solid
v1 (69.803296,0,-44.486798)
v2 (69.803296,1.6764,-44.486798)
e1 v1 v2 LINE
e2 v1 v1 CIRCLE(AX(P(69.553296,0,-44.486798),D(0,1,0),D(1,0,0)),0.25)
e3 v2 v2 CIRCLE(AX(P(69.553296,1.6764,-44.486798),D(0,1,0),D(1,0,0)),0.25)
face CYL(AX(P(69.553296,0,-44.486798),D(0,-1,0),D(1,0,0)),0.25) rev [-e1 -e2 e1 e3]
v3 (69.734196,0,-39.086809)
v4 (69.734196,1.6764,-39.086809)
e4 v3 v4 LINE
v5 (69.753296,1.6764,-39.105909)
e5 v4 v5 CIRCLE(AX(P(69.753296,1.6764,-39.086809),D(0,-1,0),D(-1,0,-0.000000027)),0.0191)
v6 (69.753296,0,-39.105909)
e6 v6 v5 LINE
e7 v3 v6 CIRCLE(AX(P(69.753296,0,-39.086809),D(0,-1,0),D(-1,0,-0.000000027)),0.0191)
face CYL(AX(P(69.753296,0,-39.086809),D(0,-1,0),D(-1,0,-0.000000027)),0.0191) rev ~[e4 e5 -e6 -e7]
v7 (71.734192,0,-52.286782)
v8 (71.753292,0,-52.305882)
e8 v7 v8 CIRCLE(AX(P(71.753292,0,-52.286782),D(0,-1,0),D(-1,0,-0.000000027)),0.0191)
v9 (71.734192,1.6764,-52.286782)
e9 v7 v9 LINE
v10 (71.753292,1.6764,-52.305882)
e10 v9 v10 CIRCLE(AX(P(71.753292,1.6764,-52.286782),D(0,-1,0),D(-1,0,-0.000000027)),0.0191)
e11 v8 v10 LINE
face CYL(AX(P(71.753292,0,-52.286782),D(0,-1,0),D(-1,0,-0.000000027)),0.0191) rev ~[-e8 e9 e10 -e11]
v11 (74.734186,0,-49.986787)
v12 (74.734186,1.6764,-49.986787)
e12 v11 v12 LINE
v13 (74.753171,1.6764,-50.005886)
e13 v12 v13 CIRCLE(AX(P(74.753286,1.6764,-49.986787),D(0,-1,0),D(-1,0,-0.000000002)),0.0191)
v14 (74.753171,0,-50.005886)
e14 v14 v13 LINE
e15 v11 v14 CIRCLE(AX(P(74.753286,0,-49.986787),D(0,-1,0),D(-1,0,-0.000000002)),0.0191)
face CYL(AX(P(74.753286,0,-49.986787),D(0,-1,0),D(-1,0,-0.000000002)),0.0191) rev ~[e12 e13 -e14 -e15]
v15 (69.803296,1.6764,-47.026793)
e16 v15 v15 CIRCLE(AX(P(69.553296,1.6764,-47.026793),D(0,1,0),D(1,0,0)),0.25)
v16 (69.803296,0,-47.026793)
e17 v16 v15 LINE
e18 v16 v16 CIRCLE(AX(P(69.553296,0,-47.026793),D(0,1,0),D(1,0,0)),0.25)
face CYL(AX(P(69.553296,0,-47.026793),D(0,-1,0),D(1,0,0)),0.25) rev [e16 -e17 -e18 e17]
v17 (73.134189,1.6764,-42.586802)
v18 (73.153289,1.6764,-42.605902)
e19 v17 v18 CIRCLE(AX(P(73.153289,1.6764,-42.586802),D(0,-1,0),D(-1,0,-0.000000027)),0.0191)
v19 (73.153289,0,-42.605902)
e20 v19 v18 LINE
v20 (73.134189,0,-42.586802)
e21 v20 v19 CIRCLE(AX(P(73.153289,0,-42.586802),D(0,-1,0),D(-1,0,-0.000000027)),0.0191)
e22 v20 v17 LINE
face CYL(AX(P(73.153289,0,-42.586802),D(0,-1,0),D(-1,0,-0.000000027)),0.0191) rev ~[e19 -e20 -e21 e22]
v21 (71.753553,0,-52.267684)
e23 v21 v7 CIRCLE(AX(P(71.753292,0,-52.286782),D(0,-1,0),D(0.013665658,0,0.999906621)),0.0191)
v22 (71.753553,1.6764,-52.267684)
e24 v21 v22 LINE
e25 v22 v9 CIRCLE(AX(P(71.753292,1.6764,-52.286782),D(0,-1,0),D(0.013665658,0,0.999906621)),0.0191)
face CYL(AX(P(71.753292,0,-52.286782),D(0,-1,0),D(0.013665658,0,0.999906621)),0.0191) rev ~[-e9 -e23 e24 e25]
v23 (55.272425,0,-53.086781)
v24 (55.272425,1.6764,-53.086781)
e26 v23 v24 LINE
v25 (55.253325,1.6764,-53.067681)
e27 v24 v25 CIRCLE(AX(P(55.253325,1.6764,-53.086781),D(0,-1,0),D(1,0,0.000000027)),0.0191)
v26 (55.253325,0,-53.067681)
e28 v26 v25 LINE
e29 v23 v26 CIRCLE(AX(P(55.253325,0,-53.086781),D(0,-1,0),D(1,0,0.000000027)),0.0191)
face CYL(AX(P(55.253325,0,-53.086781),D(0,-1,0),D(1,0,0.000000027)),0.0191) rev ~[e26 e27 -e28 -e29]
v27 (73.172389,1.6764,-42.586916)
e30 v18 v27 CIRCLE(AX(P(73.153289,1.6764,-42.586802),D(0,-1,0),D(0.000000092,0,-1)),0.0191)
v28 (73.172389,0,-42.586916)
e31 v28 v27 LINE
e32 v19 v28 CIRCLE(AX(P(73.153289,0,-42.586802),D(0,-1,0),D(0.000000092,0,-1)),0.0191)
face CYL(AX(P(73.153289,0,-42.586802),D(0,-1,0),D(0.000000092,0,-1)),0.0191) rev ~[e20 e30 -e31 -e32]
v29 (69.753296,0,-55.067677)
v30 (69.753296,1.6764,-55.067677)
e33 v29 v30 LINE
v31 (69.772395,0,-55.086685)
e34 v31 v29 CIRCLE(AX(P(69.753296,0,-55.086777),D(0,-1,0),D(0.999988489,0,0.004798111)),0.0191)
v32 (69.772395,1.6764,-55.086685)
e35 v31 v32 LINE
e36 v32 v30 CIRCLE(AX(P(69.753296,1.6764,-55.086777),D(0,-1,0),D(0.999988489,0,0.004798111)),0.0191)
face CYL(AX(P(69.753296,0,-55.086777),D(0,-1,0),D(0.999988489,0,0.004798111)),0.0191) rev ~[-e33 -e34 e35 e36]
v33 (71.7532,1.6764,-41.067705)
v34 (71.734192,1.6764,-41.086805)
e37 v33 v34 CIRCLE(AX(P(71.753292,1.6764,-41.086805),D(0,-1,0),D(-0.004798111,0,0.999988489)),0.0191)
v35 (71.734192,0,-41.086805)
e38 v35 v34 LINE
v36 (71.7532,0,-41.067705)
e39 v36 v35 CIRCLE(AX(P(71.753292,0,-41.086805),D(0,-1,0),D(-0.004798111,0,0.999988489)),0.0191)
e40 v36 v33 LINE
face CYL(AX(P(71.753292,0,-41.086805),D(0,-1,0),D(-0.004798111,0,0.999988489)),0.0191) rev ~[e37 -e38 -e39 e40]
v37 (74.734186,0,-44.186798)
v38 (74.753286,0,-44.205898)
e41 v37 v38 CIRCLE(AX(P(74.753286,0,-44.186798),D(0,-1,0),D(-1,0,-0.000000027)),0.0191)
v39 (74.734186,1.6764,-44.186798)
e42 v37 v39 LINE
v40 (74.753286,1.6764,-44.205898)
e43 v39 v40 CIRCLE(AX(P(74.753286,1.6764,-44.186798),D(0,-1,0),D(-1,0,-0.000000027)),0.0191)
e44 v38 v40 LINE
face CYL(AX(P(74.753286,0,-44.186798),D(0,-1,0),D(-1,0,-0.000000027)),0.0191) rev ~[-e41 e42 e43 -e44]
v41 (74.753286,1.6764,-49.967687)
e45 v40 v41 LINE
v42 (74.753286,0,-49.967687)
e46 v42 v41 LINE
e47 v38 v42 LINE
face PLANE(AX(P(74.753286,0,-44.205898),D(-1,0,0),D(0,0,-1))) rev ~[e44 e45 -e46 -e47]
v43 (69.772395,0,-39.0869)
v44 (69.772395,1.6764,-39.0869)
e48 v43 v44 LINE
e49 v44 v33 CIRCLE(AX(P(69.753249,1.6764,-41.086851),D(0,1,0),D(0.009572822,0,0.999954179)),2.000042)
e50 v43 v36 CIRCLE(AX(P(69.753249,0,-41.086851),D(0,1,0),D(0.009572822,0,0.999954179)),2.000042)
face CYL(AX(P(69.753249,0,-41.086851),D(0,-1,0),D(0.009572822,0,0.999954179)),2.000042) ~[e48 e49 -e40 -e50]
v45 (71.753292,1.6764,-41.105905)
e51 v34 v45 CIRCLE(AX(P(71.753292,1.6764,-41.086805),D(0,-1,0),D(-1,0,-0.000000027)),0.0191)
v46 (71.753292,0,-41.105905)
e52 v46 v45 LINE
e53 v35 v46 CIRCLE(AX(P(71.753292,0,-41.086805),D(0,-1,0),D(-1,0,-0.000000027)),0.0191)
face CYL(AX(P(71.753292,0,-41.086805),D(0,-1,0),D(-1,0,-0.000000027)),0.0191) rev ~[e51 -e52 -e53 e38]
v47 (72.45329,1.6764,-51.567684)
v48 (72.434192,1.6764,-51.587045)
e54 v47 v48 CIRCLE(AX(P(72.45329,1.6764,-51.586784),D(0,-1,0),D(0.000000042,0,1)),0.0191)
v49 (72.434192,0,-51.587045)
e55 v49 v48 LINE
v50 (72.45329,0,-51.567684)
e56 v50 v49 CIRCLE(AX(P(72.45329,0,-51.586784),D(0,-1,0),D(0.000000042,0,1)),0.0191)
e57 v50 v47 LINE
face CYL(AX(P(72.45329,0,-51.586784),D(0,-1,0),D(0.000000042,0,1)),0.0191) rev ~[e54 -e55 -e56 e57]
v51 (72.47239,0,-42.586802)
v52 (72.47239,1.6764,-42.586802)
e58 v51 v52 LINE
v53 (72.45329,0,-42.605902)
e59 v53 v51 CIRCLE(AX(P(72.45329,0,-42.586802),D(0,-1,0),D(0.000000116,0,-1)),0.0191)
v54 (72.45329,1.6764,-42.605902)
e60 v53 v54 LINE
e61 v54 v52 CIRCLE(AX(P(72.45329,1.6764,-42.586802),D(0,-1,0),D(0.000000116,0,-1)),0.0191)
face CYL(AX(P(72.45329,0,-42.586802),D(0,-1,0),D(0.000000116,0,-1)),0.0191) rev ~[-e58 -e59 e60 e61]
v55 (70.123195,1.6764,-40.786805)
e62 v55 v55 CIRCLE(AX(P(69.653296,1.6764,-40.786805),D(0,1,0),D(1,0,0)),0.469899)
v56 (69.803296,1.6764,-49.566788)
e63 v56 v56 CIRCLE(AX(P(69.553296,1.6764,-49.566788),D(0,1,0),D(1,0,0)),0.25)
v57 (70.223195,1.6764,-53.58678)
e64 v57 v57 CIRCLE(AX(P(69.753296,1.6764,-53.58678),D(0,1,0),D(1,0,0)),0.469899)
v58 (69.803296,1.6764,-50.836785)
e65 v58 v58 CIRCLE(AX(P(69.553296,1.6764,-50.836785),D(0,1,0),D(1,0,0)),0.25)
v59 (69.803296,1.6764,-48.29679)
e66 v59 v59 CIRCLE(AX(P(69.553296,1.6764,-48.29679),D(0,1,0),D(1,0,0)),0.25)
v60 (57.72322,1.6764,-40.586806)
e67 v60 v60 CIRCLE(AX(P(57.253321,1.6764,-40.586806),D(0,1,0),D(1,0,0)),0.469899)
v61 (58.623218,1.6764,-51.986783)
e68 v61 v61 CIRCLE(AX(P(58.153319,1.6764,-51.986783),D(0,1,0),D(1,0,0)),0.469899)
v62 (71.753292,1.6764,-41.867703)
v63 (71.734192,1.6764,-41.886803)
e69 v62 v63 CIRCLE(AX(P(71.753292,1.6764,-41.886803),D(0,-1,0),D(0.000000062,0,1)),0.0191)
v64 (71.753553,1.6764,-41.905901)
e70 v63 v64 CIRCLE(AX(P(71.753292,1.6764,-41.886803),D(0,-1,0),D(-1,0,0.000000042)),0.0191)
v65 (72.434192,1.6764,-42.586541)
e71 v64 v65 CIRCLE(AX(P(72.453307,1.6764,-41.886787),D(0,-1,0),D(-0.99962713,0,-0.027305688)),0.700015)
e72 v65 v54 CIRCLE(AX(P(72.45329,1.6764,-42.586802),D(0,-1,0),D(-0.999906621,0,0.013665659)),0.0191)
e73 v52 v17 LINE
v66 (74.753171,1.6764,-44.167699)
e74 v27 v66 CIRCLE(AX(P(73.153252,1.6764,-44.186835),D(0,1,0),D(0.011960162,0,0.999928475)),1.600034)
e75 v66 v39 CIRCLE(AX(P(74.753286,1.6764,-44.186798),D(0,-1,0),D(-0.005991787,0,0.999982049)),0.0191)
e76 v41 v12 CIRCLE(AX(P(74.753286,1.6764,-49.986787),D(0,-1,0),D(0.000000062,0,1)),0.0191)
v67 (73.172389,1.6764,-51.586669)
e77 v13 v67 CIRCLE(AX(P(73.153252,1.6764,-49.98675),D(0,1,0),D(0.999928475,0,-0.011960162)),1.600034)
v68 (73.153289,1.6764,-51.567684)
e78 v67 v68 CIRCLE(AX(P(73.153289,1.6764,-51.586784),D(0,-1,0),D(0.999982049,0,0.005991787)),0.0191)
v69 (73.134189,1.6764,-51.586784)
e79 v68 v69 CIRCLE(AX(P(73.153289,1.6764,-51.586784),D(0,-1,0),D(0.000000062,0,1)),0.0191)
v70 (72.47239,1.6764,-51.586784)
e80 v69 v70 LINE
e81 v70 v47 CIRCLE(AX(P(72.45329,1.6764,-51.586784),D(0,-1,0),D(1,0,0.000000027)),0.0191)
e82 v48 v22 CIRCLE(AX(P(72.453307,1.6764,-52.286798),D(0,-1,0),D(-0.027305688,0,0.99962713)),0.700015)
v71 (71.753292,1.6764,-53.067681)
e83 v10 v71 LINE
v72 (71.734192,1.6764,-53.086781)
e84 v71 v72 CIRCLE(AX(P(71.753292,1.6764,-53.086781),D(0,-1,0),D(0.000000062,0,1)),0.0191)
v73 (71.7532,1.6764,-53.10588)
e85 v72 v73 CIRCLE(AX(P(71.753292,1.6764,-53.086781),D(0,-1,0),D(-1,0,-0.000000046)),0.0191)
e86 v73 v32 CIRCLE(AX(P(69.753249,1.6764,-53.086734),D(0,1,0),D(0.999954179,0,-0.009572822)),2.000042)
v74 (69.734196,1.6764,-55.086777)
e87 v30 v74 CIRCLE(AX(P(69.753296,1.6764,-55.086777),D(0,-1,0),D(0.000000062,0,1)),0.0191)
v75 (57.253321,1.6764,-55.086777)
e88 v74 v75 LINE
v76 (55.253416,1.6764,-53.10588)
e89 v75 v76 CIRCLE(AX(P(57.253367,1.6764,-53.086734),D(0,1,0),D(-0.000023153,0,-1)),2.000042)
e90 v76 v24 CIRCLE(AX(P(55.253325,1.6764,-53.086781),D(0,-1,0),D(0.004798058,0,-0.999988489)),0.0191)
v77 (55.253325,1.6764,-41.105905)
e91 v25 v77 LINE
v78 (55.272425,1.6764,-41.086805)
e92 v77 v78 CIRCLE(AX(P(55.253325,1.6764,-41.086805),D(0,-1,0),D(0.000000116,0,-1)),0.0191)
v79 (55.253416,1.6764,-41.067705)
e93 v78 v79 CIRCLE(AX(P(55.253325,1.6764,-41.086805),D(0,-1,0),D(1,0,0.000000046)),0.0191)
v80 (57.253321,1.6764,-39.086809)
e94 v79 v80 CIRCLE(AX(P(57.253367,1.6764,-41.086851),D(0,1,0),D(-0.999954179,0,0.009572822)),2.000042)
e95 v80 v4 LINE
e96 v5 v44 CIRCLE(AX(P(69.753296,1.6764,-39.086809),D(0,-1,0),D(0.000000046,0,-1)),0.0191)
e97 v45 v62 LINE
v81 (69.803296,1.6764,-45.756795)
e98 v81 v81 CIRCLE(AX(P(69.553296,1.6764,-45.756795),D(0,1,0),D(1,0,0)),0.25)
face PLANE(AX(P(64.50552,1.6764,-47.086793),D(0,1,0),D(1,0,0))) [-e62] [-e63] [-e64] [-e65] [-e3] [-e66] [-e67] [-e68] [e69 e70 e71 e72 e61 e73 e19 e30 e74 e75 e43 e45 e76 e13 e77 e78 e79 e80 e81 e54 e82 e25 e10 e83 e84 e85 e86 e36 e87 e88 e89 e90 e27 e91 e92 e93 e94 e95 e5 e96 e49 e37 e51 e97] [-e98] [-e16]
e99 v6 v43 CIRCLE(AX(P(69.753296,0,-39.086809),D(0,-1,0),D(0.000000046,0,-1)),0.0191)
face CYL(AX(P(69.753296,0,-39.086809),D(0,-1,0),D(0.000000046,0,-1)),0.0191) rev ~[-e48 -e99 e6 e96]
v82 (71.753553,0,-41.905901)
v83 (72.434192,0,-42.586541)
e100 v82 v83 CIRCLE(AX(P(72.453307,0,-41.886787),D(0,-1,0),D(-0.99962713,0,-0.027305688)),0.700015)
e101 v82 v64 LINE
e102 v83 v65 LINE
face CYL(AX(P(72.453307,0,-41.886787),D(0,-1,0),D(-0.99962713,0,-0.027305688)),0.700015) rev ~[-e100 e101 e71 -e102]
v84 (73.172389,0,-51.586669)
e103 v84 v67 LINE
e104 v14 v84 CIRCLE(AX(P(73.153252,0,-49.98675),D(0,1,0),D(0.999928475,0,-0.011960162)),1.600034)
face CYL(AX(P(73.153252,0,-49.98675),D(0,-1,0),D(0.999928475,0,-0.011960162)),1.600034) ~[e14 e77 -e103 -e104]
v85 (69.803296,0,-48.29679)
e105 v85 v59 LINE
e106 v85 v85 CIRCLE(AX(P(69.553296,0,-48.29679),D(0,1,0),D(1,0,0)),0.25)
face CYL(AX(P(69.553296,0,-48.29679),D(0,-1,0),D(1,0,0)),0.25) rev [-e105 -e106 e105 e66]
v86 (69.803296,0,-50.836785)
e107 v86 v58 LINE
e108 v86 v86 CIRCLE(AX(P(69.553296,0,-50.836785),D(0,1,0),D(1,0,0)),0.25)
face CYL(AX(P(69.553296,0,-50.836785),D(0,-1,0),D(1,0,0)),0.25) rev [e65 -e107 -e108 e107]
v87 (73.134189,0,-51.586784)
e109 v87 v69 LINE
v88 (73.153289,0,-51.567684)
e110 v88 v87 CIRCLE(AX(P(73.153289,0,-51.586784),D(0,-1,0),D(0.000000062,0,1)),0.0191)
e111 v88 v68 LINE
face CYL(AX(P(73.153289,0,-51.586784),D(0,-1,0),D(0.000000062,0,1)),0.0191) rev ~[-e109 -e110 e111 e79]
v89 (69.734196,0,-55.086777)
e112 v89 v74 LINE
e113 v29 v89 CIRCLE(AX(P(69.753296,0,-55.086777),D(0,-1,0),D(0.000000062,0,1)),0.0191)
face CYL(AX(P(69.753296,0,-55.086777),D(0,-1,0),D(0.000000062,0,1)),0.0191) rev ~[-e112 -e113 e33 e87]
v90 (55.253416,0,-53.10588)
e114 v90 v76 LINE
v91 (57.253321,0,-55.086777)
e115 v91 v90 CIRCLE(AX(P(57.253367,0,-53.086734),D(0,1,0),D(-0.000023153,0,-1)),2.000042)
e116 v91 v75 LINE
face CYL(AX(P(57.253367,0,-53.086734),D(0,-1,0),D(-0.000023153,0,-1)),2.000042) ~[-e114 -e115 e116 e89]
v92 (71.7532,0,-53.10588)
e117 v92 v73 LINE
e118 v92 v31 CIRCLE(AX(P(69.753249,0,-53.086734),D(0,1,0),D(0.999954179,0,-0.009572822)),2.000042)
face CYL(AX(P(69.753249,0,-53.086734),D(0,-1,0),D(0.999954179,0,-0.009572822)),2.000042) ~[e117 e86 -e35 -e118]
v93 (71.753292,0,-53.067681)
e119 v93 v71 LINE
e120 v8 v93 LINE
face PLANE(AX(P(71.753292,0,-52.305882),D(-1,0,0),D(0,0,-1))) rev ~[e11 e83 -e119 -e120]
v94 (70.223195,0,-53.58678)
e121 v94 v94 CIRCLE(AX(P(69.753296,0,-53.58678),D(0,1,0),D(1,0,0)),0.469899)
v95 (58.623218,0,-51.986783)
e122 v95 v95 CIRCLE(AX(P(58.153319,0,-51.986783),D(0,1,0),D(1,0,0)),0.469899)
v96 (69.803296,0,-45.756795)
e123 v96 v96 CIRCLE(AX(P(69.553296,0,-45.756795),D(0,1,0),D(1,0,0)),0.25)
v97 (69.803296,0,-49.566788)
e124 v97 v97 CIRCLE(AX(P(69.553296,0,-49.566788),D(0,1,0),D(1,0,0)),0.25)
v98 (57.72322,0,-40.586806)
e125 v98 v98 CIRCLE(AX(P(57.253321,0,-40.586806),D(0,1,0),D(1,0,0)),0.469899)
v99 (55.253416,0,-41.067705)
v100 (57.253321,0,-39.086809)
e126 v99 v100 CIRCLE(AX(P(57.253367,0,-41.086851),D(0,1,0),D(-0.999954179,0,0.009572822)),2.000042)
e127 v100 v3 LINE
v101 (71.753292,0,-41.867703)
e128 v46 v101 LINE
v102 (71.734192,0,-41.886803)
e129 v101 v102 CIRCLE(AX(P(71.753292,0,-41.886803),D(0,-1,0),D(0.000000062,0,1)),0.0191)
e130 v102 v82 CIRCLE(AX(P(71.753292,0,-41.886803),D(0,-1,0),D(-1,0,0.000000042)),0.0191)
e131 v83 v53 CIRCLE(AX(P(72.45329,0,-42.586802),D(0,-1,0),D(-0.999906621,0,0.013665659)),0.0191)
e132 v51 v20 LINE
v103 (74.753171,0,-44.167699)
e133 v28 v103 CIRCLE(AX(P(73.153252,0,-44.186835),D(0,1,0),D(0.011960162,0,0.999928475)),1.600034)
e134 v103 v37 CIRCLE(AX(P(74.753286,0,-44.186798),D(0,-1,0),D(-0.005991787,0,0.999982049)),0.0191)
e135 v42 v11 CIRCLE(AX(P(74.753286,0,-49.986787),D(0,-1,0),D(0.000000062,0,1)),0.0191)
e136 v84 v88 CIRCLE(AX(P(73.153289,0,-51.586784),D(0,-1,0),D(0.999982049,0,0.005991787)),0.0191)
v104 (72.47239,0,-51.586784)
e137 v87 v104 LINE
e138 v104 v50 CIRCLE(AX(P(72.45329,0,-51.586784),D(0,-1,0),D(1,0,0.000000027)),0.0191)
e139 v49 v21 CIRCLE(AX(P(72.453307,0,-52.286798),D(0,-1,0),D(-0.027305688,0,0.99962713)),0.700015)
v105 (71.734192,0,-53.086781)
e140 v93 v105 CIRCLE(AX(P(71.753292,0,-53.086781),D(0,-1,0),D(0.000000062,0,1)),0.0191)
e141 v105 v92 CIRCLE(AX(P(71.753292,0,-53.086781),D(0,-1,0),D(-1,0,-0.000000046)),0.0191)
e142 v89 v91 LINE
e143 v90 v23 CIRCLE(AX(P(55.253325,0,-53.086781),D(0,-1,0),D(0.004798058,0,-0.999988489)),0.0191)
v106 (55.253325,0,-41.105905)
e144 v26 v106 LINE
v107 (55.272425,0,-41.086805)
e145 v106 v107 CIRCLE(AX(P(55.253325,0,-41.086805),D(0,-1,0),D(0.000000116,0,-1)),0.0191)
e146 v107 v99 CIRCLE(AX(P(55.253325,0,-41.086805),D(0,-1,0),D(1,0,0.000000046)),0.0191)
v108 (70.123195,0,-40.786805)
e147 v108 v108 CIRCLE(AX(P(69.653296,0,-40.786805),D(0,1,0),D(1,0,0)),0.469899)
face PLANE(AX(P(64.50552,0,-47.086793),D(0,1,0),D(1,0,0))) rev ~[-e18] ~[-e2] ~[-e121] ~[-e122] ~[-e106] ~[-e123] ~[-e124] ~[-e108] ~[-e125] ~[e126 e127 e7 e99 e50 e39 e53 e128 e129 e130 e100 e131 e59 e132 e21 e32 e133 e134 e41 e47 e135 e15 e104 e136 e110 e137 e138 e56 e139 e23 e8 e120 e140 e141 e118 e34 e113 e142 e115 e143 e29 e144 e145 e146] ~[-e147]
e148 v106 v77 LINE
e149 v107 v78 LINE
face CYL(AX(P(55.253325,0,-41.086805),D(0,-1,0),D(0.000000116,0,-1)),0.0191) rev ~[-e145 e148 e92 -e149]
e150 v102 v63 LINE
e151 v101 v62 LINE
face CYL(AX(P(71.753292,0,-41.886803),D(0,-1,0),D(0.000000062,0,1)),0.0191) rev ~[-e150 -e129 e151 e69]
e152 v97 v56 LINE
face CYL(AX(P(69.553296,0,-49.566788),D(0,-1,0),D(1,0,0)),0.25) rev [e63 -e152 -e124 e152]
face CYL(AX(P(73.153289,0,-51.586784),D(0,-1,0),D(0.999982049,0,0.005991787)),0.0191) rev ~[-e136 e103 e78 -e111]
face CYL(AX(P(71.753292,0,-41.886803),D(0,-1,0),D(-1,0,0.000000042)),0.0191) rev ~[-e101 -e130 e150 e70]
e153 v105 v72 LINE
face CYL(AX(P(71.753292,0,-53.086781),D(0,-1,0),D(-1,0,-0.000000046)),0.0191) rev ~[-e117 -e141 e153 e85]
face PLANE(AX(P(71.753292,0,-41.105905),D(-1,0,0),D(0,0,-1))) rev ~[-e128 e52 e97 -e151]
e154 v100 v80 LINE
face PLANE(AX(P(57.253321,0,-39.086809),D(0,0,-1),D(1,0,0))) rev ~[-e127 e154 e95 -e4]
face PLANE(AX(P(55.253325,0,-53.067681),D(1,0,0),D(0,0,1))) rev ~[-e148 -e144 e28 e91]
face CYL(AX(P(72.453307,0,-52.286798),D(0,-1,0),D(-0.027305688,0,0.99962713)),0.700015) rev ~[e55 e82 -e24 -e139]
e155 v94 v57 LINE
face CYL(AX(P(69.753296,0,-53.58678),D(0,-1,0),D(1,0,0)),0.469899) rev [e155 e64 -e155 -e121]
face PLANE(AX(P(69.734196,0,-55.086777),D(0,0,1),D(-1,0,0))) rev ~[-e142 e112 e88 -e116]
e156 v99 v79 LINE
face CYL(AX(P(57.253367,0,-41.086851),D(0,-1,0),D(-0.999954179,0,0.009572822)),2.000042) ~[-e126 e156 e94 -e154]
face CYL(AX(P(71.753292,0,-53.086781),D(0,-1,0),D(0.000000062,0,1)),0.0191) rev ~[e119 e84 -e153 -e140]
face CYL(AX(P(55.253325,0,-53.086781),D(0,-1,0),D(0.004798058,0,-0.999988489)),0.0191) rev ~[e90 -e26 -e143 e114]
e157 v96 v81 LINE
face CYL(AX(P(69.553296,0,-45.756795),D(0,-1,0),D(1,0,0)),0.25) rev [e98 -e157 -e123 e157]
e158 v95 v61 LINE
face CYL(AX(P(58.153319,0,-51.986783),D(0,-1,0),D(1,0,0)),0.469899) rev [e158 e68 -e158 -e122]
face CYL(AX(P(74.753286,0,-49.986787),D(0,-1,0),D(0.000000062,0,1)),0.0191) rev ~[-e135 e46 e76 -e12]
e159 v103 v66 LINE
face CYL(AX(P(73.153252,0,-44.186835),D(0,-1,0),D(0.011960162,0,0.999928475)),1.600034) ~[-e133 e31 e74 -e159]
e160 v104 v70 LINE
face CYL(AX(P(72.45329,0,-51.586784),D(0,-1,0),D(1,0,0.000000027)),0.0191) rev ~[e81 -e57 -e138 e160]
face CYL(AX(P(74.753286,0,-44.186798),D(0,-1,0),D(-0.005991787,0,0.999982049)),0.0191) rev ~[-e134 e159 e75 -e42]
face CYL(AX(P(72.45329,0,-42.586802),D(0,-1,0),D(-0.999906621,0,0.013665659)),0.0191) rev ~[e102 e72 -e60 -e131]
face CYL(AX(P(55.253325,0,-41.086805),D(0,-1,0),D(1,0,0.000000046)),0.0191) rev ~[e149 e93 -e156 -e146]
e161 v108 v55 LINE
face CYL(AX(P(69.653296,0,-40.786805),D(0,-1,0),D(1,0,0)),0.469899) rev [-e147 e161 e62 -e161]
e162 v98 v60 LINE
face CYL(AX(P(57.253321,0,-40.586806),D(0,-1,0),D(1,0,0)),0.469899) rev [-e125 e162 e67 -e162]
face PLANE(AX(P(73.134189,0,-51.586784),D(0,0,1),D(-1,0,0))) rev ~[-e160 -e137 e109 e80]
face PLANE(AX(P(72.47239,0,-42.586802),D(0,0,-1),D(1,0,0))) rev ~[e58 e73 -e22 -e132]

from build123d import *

# Parameters (mm, degrees)
SKETCH1_R           = 0.46989906
SKETCH1_R_2         = 0.2499995
BOSS_EXTRUDE1_DEPTH = 1.6764


with BuildPart() as part:
    # Sketch1 → Boss-Extrude1 (new body)
    with BuildSketch(Plane(origin=(0, 0, 0), x_dir=(1, 0, 0), z_dir=(0, 1, 0))):
        with BuildLine():
            Line((73.134188992, 51.586783601), (72.472390316, 51.586783601))
            ThreePointArc((72.472390316, 51.586783601), (72.466796066, 51.573277888), (72.453290354, 51.567683639))
            ThreePointArc((72.453290354, 51.567683639), (72.439692672, 51.573370488), (72.434192176, 51.587044615))
            ThreePointArc((72.434192176, 51.587044615), (71.958321344, 51.791813191), (71.753552768, 52.267684022))
            ThreePointArc((71.753552768, 52.267684022), (71.739878641, 52.273184519), (71.734191792, 52.286782201))
            ThreePointArc((71.734191792, 52.286782201), (71.739786041, 52.300287913), (71.753291754, 52.305882163))
            Line((71.753291754, 52.305882163), (71.753291754, 53.067680639))
            ThreePointArc((71.753291754, 53.067680639), (71.739786041, 53.073274888), (71.734191792, 53.086780601))
            ThreePointArc((71.734191792, 53.086780601), (71.73975368, 53.100253874), (71.753200111, 53.105880343))
            ThreePointArc((71.753200111, 53.105880343), (71.167492925, 54.500977772), (69.772395496, 55.086684958))
            ThreePointArc((69.772395496, 55.086684958), (69.766769027, 55.073238527), (69.753295754, 55.067676639))
            ThreePointArc((69.753295754, 55.067676639), (69.739790041, 55.073270888), (69.734195792, 55.086776601))
            Line((69.734195792, 55.086776601), (57.253320754, 55.086776601))
            ThreePointArc((57.253320754, 55.086776601), (55.845892561, 54.507714506), (55.253416396, 53.105880343))
            ThreePointArc((55.253416396, 53.105880343), (55.266862828, 53.100253874), (55.272424716, 53.086780601))
            ThreePointArc((55.272424716, 53.086780601), (55.266830466, 53.073274888), (55.253324754, 53.067680639))
            Line((55.253324754, 53.067680639), (55.253324754, 41.105904563))
            ThreePointArc((55.253324754, 41.105904563), (55.266830466, 41.100310313), (55.272424716, 41.086804601))
            ThreePointArc((55.272424716, 41.086804601), (55.266862828, 41.073331328), (55.253416396, 41.067704859))
            ThreePointArc((55.253416396, 41.067704859), (55.845892561, 39.665870695), (57.253320754, 39.086808601))
            Line((57.253320754, 39.086808601), (69.734195792, 39.086808601))
            ThreePointArc((69.734195792, 39.086808601), (69.739790041, 39.100314313), (69.753295754, 39.105908563))
            ThreePointArc((69.753295754, 39.105908563), (69.766769027, 39.100346675), (69.772395496, 39.086900243))
            ThreePointArc((69.772395496, 39.086900243), (71.167492925, 39.672607429), (71.753200111, 41.067704859))
            ThreePointArc((71.753200111, 41.067704859), (71.73975368, 41.073331328), (71.734191792, 41.086804601))
            ThreePointArc((71.734191792, 41.086804601), (71.739786041, 41.100310313), (71.753291754, 41.105904563))
            Line((71.753291754, 41.105904563), (71.753291754, 41.867703039))
            ThreePointArc((71.753291754, 41.867703039), (71.739786041, 41.873297288), (71.734191792, 41.886803001))
            ThreePointArc((71.734191792, 41.886803001), (71.739878641, 41.900400683), (71.753552768, 41.905901179))
            ThreePointArc((71.753552768, 41.905901179), (71.958321344, 42.381772011), (72.434192176, 42.586540587))
            ThreePointArc((72.434192176, 42.586540587), (72.439692672, 42.600214713), (72.453290354, 42.605901563))
            ThreePointArc((72.453290354, 42.605901563), (72.466796066, 42.600307313), (72.472390316, 42.586801601))
            Line((72.472390316, 42.586801601), (73.134188992, 42.586801601))
            ThreePointArc((73.134188992, 42.586801601), (73.139783241, 42.600307313), (73.153288954, 42.605901563))
            ThreePointArc((73.153288954, 42.605901563), (73.166754144, 42.600347714), (73.172388573, 42.586916043))
            ThreePointArc((73.172388573, 42.586916043), (74.284646691, 43.055440663), (74.753171311, 44.167698782))
            ThreePointArc((74.753171311, 44.167698782), (74.73973964, 44.173333211), (74.734185792, 44.186798401))
            ThreePointArc((74.734185792, 44.186798401), (74.739780041, 44.200304113), (74.753285754, 44.205898363))
            Line((74.753285754, 44.205898363), (74.753285754, 49.967686839))
            ThreePointArc((74.753285754, 49.967686839), (74.739780041, 49.973281088), (74.734185792, 49.986786801))
            ThreePointArc((74.734185792, 49.986786801), (74.73973964, 50.000251991), (74.753171311, 50.00588642))
            ThreePointArc((74.753171311, 50.00588642), (74.284646691, 51.118144538), (73.172388573, 51.586669158))
            ThreePointArc((73.172388573, 51.586669158), (73.166754144, 51.573237487), (73.153288954, 51.567683639))
            ThreePointArc((73.153288954, 51.567683639), (73.139783241, 51.573277888), (73.134188992, 51.586783601))
        make_face()
        with Locations((57.253320754, 40.586805601)):
            Circle(SKETCH1_R, mode=Mode.SUBTRACT)
        with Locations((69.653295954, 40.786805201)):
            Circle(SKETCH1_R, mode=Mode.SUBTRACT)
        with Locations((69.553296154, 44.486797801)):
            Circle(SKETCH1_R_2, mode=Mode.SUBTRACT)
        with Locations((69.553296154, 45.756795261)):
            Circle(SKETCH1_R_2, mode=Mode.SUBTRACT)
        with Locations((69.553296154, 47.026792721)):
            Circle(SKETCH1_R_2, mode=Mode.SUBTRACT)
        with Locations((58.153318954, 51.986782801)):
            Circle(SKETCH1_R, mode=Mode.SUBTRACT)
        with Locations((69.553296154, 48.296790181)):
            Circle(SKETCH1_R_2, mode=Mode.SUBTRACT)
        with Locations((69.553296154, 49.566787641)):
            Circle(SKETCH1_R_2, mode=Mode.SUBTRACT)
        with Locations((69.553296154, 50.836785101)):
            Circle(SKETCH1_R_2, mode=Mode.SUBTRACT)
        with Locations((69.753295754, 53.586779601)):
            Circle(SKETCH1_R, mode=Mode.SUBTRACT)
    extrude(amount=BOSS_EXTRUDE1_DEPTH)


solid = part.part
